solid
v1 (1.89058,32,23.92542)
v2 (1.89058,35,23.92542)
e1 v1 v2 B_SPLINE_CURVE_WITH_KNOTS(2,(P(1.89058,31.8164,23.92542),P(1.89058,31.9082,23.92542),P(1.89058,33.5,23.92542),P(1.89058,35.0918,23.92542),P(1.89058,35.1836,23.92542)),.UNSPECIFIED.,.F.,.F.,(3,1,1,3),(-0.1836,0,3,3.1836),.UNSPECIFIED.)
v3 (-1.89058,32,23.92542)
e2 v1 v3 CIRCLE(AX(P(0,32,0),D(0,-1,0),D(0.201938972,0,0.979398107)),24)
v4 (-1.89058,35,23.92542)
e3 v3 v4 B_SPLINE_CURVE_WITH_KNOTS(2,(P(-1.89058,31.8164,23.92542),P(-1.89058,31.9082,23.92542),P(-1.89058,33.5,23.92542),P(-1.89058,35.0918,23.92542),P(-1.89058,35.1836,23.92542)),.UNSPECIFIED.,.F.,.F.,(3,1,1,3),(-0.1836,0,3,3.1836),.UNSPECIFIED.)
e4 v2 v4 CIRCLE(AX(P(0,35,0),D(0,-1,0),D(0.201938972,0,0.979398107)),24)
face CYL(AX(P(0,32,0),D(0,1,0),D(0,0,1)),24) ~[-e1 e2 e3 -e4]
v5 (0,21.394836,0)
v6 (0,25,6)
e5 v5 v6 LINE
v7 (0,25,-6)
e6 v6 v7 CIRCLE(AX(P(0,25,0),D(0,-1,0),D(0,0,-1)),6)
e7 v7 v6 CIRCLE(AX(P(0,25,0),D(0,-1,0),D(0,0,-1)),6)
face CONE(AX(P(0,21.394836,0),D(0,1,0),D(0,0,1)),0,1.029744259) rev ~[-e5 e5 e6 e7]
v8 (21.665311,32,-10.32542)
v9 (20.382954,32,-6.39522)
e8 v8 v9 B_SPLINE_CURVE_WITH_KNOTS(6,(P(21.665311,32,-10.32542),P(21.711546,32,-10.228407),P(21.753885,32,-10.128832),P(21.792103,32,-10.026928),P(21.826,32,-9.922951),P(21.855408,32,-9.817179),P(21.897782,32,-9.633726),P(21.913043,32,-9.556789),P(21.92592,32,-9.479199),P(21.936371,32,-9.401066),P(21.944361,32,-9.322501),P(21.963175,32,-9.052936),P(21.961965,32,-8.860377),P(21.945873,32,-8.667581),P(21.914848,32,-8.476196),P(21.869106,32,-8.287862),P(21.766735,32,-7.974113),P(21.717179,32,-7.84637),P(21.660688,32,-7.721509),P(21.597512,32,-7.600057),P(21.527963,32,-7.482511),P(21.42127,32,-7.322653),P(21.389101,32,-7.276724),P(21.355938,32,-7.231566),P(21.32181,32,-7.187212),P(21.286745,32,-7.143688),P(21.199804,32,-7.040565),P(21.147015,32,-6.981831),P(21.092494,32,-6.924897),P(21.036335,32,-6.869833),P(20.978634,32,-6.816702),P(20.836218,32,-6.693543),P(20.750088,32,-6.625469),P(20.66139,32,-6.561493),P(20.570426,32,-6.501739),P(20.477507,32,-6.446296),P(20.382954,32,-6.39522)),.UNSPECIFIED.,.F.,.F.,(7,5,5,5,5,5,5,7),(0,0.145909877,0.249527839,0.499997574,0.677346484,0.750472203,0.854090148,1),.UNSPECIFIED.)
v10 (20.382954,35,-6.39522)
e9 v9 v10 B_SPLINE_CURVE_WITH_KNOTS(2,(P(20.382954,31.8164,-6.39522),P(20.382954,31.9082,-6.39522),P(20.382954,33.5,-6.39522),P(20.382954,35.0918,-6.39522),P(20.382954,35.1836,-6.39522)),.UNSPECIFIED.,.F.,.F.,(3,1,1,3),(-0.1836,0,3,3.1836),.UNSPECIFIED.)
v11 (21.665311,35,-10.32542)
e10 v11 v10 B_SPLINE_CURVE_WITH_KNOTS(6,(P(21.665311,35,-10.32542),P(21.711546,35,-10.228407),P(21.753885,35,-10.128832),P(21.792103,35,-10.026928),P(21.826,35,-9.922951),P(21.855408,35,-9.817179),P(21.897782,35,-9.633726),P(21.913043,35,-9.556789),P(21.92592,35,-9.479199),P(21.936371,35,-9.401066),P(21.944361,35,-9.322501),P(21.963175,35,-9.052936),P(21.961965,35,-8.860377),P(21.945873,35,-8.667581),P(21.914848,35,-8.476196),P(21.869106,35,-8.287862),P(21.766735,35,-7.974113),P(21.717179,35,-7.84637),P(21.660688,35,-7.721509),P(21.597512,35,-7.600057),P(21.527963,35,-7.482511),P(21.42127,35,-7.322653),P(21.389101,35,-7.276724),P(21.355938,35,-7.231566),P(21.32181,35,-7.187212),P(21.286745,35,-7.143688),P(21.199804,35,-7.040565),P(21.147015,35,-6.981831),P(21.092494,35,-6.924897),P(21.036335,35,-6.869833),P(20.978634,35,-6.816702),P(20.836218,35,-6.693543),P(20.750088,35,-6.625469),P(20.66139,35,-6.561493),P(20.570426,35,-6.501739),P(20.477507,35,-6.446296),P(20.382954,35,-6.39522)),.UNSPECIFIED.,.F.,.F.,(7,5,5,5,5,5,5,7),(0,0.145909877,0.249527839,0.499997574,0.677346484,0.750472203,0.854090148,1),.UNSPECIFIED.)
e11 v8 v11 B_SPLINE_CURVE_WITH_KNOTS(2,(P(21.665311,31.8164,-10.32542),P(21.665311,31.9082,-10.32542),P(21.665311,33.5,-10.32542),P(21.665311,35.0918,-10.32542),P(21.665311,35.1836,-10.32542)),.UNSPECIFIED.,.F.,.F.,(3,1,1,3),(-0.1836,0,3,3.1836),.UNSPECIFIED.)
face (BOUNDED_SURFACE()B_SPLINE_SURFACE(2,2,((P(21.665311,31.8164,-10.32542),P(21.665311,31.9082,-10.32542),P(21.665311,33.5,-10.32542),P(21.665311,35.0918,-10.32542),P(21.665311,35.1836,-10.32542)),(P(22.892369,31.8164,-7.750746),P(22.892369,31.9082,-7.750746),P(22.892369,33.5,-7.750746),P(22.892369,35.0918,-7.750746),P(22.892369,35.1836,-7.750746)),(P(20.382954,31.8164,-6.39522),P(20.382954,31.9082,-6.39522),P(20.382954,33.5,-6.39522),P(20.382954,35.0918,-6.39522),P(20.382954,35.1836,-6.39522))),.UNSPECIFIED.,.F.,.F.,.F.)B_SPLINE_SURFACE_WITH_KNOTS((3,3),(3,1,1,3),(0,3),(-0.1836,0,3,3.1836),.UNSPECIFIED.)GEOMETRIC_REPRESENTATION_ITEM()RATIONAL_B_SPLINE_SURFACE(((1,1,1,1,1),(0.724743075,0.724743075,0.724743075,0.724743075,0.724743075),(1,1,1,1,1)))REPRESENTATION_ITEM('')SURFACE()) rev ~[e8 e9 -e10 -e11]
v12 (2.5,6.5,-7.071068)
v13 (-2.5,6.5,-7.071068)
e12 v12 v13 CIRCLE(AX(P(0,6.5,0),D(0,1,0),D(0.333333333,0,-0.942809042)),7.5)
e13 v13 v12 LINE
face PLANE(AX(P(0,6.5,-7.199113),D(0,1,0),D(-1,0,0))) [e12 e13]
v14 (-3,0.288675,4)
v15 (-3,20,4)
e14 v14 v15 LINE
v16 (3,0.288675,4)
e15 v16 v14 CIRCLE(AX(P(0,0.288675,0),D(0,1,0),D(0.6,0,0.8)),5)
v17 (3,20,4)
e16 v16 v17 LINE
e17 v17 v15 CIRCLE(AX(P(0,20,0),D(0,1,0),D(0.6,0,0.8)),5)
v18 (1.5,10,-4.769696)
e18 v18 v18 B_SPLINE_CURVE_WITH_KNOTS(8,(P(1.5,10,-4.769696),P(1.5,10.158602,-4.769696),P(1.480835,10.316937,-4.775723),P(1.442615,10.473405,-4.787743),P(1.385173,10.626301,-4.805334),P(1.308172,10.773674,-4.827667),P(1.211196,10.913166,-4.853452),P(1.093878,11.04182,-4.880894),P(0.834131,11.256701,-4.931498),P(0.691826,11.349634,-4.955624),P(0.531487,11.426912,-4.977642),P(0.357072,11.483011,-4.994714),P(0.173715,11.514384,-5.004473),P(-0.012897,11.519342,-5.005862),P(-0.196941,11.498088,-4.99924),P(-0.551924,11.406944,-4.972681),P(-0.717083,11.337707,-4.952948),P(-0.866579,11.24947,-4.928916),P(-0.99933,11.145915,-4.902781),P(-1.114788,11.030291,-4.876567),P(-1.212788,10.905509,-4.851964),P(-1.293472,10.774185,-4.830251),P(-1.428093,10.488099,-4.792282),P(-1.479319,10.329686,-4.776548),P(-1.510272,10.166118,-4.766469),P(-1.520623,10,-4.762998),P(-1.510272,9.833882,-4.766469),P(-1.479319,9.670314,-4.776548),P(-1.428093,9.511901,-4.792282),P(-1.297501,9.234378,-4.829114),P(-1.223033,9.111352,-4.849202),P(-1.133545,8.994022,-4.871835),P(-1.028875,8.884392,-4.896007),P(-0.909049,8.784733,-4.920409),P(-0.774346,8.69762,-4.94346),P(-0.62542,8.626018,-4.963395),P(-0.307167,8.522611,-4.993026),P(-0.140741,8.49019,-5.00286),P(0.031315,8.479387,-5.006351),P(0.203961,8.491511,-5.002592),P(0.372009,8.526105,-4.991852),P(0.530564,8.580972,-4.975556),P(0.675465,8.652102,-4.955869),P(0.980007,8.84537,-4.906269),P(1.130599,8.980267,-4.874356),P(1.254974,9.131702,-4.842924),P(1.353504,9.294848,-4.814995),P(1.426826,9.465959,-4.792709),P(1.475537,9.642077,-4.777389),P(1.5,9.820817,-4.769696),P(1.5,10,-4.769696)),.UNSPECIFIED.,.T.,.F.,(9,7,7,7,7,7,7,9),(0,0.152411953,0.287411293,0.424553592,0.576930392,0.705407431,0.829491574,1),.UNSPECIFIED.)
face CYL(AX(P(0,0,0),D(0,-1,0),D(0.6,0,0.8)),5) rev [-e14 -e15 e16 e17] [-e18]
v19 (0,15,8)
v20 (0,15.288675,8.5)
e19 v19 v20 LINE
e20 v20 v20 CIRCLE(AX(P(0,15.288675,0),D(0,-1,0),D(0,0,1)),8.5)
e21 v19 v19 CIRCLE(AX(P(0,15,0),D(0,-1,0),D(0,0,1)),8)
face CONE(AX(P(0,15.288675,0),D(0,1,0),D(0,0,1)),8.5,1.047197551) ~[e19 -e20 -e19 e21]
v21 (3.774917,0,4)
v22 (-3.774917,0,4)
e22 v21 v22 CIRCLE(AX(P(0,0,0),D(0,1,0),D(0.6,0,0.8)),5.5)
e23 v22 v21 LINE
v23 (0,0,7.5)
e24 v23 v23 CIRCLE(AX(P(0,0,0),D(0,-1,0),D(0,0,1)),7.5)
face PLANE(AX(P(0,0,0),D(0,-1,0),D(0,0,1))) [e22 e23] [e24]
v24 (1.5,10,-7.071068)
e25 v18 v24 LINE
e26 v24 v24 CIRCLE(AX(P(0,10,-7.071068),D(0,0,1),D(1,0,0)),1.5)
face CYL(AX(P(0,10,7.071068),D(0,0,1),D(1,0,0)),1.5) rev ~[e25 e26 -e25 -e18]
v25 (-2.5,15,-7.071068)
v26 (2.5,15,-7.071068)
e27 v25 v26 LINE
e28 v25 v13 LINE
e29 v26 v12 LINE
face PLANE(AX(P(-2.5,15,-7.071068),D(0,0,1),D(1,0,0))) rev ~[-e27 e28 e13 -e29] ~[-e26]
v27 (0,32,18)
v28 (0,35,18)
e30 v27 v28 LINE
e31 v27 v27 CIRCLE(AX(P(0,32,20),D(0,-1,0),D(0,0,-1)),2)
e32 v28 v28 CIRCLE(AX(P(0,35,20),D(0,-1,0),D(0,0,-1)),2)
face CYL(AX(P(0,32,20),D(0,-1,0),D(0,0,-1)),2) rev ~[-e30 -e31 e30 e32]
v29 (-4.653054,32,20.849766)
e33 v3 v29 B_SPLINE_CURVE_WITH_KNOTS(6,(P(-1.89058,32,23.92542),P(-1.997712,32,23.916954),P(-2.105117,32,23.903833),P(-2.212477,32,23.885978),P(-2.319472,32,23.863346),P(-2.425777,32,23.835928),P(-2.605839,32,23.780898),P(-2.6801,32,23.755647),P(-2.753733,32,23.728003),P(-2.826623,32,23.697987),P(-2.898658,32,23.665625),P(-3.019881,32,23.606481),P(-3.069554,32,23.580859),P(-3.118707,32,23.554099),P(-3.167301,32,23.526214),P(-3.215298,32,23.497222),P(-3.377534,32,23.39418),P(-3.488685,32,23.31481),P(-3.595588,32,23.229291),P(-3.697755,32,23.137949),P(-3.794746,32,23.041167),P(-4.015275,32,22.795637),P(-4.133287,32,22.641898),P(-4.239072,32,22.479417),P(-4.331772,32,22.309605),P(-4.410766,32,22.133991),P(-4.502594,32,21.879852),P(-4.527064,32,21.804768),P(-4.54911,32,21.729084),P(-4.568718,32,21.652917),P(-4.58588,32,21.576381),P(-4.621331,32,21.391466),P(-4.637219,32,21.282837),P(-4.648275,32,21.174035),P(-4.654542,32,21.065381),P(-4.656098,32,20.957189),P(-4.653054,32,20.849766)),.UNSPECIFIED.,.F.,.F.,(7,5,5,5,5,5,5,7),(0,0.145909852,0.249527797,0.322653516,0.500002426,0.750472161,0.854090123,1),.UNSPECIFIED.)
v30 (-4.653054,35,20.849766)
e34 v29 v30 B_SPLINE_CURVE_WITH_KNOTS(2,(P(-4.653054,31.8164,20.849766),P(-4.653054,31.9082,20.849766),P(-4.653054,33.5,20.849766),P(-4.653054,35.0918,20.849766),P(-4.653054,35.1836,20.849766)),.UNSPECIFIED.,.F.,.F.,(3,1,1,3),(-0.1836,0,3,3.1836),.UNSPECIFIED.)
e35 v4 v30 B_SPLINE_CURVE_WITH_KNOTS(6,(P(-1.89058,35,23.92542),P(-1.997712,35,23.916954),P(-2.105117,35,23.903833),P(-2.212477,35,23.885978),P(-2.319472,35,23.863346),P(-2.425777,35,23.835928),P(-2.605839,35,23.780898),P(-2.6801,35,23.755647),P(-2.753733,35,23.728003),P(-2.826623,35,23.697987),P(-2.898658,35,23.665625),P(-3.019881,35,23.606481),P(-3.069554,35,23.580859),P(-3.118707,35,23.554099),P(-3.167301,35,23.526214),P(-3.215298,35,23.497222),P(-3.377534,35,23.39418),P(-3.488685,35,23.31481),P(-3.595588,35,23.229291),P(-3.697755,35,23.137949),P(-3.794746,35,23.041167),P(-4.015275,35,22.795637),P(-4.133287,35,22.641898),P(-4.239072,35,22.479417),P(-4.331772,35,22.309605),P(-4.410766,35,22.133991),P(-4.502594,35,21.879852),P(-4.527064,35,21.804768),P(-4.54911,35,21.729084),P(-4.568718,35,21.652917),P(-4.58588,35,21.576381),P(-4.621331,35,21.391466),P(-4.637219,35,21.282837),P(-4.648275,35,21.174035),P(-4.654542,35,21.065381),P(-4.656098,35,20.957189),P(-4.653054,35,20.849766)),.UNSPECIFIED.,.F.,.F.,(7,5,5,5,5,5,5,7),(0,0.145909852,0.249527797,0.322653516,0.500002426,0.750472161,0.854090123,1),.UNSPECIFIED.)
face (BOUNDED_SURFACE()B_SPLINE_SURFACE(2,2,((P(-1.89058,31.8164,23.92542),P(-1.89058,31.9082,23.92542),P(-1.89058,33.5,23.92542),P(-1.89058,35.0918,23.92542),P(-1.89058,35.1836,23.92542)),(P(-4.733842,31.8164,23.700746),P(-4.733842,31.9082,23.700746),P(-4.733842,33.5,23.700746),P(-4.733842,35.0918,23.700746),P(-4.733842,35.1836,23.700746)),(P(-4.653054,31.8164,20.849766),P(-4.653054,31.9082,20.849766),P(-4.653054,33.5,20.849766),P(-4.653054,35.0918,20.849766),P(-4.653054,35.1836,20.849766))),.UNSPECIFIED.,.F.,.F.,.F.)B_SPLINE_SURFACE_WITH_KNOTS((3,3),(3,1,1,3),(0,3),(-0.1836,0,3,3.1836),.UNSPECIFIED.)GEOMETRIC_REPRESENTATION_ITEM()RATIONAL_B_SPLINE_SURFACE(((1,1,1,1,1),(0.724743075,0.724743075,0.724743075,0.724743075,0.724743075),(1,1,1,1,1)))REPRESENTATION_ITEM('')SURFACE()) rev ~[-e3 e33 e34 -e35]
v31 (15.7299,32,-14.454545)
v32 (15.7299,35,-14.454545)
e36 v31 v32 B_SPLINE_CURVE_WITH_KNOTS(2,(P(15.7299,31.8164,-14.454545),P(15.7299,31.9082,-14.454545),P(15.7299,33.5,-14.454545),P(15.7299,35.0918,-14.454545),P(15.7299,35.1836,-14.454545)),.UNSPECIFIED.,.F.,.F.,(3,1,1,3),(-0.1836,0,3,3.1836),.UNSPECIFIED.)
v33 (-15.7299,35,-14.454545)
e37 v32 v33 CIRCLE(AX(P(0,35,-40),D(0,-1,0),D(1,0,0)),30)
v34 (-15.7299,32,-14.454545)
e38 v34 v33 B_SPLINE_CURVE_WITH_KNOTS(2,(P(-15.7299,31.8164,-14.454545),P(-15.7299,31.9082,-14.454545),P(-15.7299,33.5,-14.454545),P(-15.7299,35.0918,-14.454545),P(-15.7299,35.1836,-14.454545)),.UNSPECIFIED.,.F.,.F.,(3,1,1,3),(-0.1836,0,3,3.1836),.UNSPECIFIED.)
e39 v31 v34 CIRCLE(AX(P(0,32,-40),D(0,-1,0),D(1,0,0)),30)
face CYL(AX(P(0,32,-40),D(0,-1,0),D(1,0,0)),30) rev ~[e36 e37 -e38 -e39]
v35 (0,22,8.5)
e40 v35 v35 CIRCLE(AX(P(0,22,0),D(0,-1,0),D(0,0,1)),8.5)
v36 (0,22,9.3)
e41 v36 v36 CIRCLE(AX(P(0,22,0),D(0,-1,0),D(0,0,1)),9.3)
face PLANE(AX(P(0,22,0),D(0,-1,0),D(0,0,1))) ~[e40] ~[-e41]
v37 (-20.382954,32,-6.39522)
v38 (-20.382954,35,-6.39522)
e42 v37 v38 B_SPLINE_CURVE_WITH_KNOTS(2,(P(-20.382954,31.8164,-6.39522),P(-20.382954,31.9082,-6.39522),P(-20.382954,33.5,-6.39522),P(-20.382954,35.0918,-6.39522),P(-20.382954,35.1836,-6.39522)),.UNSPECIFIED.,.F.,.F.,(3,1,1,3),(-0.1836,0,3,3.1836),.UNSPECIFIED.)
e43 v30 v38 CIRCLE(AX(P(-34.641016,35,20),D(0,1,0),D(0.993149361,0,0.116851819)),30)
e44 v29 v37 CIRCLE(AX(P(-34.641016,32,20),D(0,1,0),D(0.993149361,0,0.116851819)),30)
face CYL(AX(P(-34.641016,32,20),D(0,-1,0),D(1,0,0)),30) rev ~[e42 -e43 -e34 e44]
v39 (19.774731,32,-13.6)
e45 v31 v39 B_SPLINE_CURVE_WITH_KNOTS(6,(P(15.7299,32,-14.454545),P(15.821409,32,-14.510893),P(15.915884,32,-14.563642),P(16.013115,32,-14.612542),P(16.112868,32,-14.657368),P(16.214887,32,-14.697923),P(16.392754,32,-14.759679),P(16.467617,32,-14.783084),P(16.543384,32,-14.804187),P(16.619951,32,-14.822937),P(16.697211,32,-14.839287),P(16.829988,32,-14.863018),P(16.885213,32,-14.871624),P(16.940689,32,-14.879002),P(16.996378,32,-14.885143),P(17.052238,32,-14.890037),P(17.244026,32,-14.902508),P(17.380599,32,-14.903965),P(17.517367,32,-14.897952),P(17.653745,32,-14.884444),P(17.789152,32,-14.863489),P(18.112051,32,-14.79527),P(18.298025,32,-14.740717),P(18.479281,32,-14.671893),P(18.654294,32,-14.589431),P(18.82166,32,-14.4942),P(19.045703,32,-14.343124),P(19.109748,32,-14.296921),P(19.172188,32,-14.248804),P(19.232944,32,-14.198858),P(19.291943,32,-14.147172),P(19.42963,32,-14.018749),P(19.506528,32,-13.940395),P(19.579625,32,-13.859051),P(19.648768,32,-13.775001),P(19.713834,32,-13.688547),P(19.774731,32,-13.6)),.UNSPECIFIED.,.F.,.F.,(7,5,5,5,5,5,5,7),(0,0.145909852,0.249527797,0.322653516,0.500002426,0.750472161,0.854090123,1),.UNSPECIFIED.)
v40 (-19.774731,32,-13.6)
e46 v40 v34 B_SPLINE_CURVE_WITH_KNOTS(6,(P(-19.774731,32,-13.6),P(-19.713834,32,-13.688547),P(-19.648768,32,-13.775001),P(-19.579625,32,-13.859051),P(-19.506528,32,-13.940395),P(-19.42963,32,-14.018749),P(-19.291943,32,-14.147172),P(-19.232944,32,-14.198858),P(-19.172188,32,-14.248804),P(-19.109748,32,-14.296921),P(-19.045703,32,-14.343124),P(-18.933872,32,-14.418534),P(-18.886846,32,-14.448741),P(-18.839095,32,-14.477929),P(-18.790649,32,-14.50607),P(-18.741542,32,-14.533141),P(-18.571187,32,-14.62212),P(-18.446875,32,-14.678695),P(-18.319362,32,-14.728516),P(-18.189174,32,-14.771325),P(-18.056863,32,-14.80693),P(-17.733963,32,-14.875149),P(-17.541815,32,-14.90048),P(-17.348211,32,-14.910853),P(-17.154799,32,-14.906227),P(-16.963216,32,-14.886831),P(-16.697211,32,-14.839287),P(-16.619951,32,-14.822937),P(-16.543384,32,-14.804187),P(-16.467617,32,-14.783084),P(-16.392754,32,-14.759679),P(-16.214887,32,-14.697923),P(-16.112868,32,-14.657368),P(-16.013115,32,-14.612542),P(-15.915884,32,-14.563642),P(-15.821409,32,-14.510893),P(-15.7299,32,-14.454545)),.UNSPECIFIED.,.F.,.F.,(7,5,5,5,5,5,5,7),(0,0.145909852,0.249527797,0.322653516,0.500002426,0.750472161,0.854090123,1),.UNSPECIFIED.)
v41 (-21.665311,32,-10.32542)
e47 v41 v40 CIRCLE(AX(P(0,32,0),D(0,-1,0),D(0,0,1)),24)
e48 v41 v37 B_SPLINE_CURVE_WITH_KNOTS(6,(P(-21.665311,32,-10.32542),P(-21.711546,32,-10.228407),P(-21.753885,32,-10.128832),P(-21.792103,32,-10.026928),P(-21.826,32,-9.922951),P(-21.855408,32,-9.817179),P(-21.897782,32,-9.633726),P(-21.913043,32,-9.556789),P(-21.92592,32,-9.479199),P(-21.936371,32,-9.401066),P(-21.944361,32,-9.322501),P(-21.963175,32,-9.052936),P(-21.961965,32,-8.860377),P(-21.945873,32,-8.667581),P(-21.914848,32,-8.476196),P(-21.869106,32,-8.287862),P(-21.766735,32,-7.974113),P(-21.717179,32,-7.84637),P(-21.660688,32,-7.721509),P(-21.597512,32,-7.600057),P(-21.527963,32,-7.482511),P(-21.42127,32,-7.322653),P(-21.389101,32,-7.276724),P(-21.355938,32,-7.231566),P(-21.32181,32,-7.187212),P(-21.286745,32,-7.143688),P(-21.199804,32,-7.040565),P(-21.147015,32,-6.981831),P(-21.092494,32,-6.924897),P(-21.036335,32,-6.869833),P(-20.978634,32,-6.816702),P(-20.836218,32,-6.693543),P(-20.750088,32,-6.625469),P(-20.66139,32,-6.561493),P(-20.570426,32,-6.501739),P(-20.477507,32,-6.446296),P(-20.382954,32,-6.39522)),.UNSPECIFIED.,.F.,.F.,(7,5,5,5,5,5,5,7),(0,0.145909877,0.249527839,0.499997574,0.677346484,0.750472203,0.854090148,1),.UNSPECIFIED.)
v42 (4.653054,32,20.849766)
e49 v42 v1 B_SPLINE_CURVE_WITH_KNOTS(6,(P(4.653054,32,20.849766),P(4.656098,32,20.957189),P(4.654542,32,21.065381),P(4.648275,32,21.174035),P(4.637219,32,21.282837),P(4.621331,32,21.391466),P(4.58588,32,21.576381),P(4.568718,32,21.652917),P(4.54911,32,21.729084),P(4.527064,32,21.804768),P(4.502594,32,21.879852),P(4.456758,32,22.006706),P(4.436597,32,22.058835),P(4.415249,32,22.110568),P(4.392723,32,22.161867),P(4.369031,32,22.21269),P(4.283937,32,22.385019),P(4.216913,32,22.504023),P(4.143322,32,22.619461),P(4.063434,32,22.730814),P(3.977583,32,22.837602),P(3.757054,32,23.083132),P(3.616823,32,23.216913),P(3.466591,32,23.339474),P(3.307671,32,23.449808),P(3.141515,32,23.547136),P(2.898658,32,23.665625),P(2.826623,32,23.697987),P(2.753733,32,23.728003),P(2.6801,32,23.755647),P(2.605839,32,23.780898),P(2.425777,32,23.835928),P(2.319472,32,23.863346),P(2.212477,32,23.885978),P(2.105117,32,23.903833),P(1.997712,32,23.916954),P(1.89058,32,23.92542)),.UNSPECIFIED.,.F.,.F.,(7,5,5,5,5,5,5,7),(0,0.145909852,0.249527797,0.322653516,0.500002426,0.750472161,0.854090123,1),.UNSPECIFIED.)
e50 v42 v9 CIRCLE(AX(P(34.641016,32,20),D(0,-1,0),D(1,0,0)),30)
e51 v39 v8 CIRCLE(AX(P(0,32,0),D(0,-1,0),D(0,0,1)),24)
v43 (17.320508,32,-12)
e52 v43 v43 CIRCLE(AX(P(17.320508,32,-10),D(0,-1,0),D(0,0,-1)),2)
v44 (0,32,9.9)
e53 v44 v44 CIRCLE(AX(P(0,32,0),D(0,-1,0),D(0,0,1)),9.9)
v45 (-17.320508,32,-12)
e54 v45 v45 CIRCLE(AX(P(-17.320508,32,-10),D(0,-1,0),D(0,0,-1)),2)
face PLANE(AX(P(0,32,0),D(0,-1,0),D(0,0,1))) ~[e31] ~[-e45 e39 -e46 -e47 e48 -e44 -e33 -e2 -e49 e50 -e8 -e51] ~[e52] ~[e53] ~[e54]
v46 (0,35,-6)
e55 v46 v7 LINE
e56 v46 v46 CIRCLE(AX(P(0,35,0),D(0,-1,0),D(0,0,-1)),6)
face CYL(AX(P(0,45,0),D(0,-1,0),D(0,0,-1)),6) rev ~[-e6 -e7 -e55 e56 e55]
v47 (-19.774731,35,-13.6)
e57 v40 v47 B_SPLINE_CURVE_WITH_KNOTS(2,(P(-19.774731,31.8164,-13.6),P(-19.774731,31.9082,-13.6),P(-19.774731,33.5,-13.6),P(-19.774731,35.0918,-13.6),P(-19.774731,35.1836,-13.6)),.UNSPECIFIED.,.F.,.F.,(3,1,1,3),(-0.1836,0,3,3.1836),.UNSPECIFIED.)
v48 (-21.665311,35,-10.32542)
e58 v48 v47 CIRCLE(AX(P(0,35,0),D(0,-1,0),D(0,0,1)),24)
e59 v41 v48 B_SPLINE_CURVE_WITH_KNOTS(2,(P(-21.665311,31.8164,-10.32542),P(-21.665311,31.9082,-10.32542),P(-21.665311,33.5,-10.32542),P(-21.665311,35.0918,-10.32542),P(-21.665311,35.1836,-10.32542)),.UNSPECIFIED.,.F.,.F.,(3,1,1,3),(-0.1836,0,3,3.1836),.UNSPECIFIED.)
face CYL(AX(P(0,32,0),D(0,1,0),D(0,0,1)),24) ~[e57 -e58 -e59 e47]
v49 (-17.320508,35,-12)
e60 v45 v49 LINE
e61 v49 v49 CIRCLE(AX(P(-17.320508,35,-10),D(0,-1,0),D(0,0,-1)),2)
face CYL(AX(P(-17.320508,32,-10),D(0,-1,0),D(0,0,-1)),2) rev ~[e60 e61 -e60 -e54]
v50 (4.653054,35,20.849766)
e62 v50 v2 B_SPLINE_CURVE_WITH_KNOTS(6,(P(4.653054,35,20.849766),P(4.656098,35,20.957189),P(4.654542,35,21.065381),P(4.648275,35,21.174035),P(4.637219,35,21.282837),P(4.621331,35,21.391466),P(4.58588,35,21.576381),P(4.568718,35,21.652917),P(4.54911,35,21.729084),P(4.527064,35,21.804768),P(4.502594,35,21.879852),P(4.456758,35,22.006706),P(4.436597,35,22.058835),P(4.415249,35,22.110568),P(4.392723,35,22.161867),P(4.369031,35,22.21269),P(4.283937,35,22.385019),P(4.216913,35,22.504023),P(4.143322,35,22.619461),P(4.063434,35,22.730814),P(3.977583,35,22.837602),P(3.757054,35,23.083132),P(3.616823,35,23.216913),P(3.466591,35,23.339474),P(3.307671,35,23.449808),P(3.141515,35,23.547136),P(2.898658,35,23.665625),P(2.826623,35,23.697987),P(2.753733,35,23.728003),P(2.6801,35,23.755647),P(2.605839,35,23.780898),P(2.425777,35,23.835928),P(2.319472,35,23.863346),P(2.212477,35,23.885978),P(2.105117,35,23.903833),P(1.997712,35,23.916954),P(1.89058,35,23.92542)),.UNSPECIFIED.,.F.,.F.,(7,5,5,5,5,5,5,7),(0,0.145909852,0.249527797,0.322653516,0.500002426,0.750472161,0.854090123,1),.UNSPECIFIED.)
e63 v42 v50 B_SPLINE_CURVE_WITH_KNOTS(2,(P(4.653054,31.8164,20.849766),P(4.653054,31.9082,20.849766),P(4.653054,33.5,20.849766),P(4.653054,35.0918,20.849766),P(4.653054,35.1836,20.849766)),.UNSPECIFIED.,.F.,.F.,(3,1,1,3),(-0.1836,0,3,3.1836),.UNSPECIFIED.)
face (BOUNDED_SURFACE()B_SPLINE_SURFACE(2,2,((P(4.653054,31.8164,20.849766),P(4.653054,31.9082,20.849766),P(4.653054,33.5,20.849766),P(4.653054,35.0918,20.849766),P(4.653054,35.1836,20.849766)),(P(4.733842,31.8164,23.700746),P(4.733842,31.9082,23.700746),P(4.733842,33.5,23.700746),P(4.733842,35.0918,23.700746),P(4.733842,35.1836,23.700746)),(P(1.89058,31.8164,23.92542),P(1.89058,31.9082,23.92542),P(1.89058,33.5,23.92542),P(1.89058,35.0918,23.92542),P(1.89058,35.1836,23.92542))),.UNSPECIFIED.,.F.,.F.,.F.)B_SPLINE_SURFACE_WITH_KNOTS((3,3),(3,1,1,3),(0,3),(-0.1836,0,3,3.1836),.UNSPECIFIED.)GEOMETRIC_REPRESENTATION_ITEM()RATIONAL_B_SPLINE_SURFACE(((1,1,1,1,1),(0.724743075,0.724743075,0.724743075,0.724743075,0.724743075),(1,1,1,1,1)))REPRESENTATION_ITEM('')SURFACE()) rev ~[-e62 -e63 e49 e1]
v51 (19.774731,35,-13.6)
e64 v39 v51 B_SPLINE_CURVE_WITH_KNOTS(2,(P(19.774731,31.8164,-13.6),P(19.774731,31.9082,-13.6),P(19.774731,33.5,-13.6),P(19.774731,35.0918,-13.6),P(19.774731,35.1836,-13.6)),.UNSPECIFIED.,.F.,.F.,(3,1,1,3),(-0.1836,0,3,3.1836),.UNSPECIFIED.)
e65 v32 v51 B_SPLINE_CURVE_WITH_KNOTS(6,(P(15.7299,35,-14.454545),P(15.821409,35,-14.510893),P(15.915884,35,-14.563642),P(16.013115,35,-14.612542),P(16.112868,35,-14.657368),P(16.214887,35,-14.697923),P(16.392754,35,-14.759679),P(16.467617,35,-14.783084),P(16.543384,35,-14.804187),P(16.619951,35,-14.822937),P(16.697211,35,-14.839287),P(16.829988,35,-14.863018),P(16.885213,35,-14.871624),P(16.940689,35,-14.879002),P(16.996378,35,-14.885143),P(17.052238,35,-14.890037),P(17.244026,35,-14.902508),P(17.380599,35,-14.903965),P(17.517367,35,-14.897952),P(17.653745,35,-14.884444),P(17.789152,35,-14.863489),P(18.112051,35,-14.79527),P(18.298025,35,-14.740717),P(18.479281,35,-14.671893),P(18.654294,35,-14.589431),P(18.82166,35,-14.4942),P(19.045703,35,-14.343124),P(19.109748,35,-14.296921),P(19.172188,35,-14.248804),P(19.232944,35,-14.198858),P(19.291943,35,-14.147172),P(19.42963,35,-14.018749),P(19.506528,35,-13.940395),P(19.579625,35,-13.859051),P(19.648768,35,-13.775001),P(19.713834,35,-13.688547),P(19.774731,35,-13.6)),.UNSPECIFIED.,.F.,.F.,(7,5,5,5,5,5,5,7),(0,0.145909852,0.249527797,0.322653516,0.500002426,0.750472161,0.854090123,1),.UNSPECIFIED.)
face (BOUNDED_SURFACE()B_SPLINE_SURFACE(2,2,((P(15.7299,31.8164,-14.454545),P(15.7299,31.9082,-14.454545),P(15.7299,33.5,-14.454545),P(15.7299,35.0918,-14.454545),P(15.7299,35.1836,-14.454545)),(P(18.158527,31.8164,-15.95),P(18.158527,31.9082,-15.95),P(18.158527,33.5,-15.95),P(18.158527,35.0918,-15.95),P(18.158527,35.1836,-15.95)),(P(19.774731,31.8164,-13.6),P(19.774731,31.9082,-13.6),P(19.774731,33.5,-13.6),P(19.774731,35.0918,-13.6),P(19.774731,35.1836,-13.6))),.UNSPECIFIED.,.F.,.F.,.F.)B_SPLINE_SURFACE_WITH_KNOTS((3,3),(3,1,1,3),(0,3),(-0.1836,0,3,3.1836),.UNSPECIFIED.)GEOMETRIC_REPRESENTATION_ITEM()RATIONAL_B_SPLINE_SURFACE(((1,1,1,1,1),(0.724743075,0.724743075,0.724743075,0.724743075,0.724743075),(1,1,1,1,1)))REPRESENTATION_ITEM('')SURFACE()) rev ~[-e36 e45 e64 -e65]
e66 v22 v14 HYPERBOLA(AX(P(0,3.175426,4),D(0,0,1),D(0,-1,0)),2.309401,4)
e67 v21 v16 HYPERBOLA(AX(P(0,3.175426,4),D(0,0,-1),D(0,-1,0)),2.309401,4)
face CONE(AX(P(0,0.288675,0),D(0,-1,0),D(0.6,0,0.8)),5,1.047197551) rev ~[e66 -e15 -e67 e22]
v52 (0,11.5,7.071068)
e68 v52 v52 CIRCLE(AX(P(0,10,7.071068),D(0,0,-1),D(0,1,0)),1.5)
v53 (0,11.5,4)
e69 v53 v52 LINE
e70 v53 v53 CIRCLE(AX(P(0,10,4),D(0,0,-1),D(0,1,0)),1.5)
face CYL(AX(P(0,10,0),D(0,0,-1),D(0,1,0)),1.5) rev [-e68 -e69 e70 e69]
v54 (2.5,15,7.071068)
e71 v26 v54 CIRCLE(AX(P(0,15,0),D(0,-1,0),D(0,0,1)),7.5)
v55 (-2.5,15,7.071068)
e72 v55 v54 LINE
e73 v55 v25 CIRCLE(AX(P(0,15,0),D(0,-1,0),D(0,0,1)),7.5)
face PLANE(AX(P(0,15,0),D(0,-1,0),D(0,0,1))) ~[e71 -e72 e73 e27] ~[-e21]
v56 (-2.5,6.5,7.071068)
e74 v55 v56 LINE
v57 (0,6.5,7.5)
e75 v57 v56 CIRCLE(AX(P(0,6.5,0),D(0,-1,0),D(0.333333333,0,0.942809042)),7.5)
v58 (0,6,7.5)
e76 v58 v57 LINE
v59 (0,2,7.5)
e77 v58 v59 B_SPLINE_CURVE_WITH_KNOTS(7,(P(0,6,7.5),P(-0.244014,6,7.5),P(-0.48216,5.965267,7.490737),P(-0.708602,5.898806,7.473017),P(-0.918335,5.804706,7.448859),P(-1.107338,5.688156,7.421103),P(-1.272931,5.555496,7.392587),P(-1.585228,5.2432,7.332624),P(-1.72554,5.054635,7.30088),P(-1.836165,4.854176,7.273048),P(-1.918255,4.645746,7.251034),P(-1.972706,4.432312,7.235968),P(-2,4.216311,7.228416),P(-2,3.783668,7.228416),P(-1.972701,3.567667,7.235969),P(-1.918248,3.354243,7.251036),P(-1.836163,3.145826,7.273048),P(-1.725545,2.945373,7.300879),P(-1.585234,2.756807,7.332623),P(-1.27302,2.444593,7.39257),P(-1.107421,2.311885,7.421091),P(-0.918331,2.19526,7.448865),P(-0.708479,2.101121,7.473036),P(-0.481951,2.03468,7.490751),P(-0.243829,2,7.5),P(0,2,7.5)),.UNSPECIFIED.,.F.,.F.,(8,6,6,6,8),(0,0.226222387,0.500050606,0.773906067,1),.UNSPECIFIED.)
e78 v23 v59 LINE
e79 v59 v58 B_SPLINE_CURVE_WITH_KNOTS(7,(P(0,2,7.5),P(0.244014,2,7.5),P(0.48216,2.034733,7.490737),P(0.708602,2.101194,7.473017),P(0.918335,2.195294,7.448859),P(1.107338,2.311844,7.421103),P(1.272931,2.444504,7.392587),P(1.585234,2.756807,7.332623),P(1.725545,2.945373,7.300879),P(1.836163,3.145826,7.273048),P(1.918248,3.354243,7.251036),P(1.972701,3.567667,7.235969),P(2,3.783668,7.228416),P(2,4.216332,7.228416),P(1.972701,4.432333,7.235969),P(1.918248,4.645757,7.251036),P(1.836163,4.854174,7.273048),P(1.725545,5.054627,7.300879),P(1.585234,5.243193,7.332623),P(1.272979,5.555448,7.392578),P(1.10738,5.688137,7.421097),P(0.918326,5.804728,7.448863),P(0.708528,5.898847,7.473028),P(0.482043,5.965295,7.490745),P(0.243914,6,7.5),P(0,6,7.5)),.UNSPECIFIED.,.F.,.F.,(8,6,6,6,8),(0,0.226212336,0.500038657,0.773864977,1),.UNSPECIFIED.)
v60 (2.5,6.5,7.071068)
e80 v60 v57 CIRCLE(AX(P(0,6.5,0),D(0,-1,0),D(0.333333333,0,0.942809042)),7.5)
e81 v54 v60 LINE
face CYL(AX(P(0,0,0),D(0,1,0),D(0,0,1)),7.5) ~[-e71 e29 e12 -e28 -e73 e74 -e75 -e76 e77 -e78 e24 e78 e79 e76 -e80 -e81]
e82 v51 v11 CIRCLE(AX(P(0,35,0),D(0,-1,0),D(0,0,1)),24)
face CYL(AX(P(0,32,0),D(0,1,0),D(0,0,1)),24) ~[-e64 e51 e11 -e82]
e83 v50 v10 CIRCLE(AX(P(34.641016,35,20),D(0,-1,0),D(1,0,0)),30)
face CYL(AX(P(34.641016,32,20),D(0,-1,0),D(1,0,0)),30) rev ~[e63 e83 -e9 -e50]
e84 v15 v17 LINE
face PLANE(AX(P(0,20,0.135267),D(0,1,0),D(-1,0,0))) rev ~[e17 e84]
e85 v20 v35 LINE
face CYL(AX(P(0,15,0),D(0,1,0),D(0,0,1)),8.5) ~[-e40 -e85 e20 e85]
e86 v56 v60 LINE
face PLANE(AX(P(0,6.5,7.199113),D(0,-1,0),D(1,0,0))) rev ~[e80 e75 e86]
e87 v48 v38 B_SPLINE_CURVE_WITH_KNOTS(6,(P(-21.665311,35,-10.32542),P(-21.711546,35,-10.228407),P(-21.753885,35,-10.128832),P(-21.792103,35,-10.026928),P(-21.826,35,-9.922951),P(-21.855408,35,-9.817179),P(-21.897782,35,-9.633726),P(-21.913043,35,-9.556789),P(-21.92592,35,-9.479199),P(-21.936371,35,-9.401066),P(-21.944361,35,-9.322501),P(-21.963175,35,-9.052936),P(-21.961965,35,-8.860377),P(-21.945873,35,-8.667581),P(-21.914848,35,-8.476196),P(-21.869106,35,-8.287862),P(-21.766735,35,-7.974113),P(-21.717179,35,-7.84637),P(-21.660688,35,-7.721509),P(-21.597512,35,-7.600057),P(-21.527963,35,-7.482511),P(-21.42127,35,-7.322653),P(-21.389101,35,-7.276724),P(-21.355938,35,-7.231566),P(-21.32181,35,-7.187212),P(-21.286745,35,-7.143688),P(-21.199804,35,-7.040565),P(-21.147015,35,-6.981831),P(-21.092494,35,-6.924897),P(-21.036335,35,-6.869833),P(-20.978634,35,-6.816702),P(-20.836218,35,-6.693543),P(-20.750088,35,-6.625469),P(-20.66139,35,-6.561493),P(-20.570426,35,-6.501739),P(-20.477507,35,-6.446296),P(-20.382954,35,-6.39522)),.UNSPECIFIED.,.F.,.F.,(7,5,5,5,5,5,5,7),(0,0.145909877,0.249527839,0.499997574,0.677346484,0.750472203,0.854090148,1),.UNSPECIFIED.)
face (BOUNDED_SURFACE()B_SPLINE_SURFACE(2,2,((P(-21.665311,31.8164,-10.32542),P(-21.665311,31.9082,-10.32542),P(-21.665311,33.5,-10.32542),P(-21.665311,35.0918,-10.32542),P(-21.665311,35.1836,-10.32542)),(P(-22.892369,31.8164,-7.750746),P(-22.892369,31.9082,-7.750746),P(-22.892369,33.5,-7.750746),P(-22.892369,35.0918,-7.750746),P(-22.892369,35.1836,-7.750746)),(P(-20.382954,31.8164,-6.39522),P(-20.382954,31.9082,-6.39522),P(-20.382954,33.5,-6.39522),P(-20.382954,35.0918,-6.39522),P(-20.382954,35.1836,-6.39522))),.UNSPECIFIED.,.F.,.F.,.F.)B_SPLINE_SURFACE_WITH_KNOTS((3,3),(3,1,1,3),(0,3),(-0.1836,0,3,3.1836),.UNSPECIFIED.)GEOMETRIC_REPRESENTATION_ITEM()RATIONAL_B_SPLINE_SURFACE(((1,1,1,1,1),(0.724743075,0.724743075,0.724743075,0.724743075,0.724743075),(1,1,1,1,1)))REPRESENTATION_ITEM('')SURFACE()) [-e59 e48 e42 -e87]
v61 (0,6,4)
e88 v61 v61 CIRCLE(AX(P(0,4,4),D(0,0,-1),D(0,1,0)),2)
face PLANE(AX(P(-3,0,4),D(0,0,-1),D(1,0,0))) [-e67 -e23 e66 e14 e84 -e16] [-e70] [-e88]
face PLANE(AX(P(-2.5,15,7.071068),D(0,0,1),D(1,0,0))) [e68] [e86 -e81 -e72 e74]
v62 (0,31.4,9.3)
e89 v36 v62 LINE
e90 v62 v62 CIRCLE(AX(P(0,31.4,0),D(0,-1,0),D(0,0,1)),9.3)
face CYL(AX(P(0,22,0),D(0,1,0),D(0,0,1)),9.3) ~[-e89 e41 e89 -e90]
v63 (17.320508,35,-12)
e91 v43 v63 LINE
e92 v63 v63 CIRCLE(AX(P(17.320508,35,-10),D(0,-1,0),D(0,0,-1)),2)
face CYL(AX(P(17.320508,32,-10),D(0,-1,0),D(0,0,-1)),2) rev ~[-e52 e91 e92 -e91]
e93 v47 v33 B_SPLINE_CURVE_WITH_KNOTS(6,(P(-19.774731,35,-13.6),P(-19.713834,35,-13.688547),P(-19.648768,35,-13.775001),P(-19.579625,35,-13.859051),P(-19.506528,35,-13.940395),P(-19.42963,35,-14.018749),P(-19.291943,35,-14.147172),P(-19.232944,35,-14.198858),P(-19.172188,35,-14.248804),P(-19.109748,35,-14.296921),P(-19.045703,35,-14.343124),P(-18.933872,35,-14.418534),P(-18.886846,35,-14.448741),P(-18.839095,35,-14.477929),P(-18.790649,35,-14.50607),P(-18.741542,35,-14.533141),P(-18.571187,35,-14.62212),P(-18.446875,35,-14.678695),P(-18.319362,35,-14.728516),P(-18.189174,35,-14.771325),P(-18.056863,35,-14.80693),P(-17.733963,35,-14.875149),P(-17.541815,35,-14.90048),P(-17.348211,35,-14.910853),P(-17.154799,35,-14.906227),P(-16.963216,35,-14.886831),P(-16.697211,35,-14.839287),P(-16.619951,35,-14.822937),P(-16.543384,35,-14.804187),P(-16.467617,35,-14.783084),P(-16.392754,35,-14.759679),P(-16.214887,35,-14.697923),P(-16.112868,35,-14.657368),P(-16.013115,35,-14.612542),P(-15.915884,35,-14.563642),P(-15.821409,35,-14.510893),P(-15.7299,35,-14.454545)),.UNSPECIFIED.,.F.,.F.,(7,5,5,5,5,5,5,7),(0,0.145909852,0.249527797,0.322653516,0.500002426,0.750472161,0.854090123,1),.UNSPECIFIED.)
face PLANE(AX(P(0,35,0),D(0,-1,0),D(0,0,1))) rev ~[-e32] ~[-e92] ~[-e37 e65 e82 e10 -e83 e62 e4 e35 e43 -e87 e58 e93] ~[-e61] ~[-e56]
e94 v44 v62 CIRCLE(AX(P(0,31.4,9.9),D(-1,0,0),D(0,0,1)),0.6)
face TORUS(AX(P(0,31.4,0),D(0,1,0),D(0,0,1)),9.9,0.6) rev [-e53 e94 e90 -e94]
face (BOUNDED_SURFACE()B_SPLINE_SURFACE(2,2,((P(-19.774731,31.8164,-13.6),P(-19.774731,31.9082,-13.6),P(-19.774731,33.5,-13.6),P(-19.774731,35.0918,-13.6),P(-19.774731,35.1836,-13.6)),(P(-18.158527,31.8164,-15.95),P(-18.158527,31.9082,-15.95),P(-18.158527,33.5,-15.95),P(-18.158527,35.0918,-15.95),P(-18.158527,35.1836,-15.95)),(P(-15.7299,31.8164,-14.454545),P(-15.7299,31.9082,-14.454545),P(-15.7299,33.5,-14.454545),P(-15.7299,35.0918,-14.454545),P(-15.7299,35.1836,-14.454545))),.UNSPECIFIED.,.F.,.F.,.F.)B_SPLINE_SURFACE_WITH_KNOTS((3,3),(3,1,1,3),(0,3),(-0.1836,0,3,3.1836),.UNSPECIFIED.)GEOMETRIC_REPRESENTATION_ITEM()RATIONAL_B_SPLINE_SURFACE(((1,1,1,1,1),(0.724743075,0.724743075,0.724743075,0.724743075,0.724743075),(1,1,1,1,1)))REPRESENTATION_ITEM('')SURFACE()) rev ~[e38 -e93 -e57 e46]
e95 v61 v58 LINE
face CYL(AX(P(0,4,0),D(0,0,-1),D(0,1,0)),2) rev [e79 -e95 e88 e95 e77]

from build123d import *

# Parameters (mm, degrees)
CUT_EXTRUDE_1_DEPTH         = 20
SKETCH_4_R                  = 2
SKETCH_4_R_2                = 30
CUT_EXTRUDE_2_DEPTH         = 47.647615159
FILLET_1_R                  = 3
SKETCH_5_R                  = 2
SKETCH_5_R_2                = 1.5
CUT_EXTRUDE_3_DEPTH         = 20
CUT_EXTRUDE_5_DEPTH         = 8.5
SKETCH_9_R                  = 1.5
CUT_EXTRUDE_6_DEPTH         = 51.644290358
SKETCH_11_R                 = 8
CUT_EXTRUDE_8_DEPTH         = 5
HOLE_WIZARD_12_0_12_1_D     = 12
HOLE_WIZARD_12_0_12_1_DEPTH = 10
HOLE_WIZARD_12_0_12_1_TIP   = 3.605163714
FILLET_2_R                  = 0.6
CHAMFER_2_SIZE              = 0.5
CHAMFER_2_SIZE2             = 0.288675135
CHAMFER_3_SIZE              = 0.5
CHAMFER_3_SIZE2             = 0.288675135


with BuildPart() as part:
    # 草图2 → 旋转1 (revolve)
    with BuildSketch(Plane.XY, mode=Mode.PRIVATE) as revolve_1_sk:
        Polygon((-7.5, 0), (-7.5, 15), (-8.5, 15), (-8.5, 22), (-9.3, 22), (-9.3, 32), (-24, 32), (-24, 35), (-8, 35), (-8, 40), (-5, 40), (0, 40), (0, 0), (-5, 0), align=None)
    revolve(revolve_1_sk.sketch.rotate(Axis((0, 41.059829881, 0), (0, -1, 0)), 270), axis=Axis((0, 41.059829881, 0), (0, -1, 0)))

    # 草图3 → 切除-拉伸1 (cut)
    with BuildSketch(Plane.XZ):
        with BuildLine():
            Line((-3, 4), (3, 4))
            ThreePointArc((3, 4), (0, -5), (-3, 4))
        make_face()
    extrude(amount=-CUT_EXTRUDE_1_DEPTH, mode=Mode.SUBTRACT)

    # 草图4 → 切除-拉伸2 (cut, through all)
    with BuildSketch(Plane.XZ.offset(-32)):
        with Locations(Location((0, 20, 0), (0, 0, 270))):
            Circle(SKETCH_4_R)
        with Locations(Location((17.320508076, -10, 0), (0, 0, 270))):
            Circle(SKETCH_4_R)
        with Locations(Location((-17.320508076, -10, 0), (0, 0, 270))):
            Circle(SKETCH_4_R)
        with Locations((0, -40)):
            Circle(SKETCH_4_R_2)
        with Locations((-34.641016151, 20)):
            Circle(SKETCH_4_R_2)
        with Locations((34.641016151, 20)):
            Circle(SKETCH_4_R_2)
    extrude(amount=-CUT_EXTRUDE_2_DEPTH, mode=Mode.SUBTRACT)

    # 圆角1
    fillet_1_edges = [part.edges().sort_by_distance(p)[0] for p in [
        (-4.846535333, 33.5, 23.505554562),
        (-22.779675047, 33.5, -7.555554562),
        (-17.933139714, 33.5, -15.95),
        (17.933139714, 33.5, -15.95),
        (22.779675047, 33.5, -7.555554562),
        (4.846535333, 33.5, 23.505554562),
    ]]
    fillet(fillet_1_edges, radius=FILLET_1_R)

    # 草图5 → 切除-拉伸3 (cut)
    with BuildSketch(Plane.XY):
        with Locations(Location((0, 4, 0), (0, 0, 90))):
            Circle(SKETCH_5_R)
        with Locations(Location((0, 10, 0), (0, 0, 90))):
            Circle(SKETCH_5_R_2)
    extrude(amount=CUT_EXTRUDE_3_DEPTH, mode=Mode.SUBTRACT)

    # 草图8 → 切除-拉伸5 (cut)
    with BuildSketch(Plane.XZ.offset(-15)):
        with BuildLine():
            Line((-2.5, 7.071067812), (2.5, 7.071067812))
            ThreePointArc((2.5, 7.071067812), (0, 7.5), (-2.5, 7.071067812))
        make_face()
        with BuildLine():
            Line((-2.5, -7.071067812), (2.5, -7.071067812))
            ThreePointArc((2.5, -7.071067812), (0, -7.5), (-2.5, -7.071067812))
        make_face()
    extrude(amount=CUT_EXTRUDE_5_DEPTH, mode=Mode.SUBTRACT)

    # 草图9 → 切除-拉伸6 (cut, through all)
    with BuildSketch(Plane.XY.offset(7.071067812)):
        with Locations((0, 10)):
            Circle(SKETCH_9_R)
    extrude(amount=-CUT_EXTRUDE_6_DEPTH, mode=Mode.SUBTRACT)

    # 草图11 → 切除-拉伸8 (cut)
    with BuildSketch(Plane(origin=(0, 40, 0), x_dir=(1, 0, 0), z_dir=(0, 1, 0))):
        Circle(SKETCH_11_R)
    extrude(amount=-CUT_EXTRUDE_8_DEPTH, mode=Mode.SUBTRACT)

    # Ø12.0 (12) 直径孔1
    with Locations(Plane.ZX.offset(35)):
        with Locations((0, 0)):
            Hole(HOLE_WIZARD_12_0_12_1_D / 2, depth=HOLE_WIZARD_12_0_12_1_DEPTH)
            with Locations((0, 0, -(HOLE_WIZARD_12_0_12_1_DEPTH + HOLE_WIZARD_12_0_12_1_TIP / 2))):  # 118° drill point
                Cone(0, HOLE_WIZARD_12_0_12_1_D / 2, HOLE_WIZARD_12_0_12_1_TIP, mode=Mode.SUBTRACT)

    # 圆角2
    fillet_2_edges = [part.edges().sort_by_distance(p)[0] for p in [
        (0, 32, -9.3),
    ]]
    fillet(fillet_2_edges, radius=FILLET_2_R)

    # 倒角2
    chamfer_2_edges = [part.edges().sort_by_distance(p)[0] for p in [
        (0, 15, -8.5),
    ]]
    chamfer_2_side = [part.faces().sort_by_distance(p)[0] for p in [
        (-7.740416306, 15, 0),
    ]]
    chamfer(chamfer_2_edges, length=CHAMFER_2_SIZE, length2=CHAMFER_2_SIZE2, reference=chamfer_2_side[0])

    # 倒角3
    chamfer_3_edges = [part.edges().sort_by_distance(p)[0] for p in [
        (0, 0, -5),
    ]]
    chamfer_3_side = [part.faces().sort_by_distance(p)[0] for p in [
        (0, 0, -7.287867966),
    ]]
    chamfer(chamfer_3_edges, length=CHAMFER_3_SIZE, length2=CHAMFER_3_SIZE2, reference=chamfer_3_side[0])


solid = part.part
